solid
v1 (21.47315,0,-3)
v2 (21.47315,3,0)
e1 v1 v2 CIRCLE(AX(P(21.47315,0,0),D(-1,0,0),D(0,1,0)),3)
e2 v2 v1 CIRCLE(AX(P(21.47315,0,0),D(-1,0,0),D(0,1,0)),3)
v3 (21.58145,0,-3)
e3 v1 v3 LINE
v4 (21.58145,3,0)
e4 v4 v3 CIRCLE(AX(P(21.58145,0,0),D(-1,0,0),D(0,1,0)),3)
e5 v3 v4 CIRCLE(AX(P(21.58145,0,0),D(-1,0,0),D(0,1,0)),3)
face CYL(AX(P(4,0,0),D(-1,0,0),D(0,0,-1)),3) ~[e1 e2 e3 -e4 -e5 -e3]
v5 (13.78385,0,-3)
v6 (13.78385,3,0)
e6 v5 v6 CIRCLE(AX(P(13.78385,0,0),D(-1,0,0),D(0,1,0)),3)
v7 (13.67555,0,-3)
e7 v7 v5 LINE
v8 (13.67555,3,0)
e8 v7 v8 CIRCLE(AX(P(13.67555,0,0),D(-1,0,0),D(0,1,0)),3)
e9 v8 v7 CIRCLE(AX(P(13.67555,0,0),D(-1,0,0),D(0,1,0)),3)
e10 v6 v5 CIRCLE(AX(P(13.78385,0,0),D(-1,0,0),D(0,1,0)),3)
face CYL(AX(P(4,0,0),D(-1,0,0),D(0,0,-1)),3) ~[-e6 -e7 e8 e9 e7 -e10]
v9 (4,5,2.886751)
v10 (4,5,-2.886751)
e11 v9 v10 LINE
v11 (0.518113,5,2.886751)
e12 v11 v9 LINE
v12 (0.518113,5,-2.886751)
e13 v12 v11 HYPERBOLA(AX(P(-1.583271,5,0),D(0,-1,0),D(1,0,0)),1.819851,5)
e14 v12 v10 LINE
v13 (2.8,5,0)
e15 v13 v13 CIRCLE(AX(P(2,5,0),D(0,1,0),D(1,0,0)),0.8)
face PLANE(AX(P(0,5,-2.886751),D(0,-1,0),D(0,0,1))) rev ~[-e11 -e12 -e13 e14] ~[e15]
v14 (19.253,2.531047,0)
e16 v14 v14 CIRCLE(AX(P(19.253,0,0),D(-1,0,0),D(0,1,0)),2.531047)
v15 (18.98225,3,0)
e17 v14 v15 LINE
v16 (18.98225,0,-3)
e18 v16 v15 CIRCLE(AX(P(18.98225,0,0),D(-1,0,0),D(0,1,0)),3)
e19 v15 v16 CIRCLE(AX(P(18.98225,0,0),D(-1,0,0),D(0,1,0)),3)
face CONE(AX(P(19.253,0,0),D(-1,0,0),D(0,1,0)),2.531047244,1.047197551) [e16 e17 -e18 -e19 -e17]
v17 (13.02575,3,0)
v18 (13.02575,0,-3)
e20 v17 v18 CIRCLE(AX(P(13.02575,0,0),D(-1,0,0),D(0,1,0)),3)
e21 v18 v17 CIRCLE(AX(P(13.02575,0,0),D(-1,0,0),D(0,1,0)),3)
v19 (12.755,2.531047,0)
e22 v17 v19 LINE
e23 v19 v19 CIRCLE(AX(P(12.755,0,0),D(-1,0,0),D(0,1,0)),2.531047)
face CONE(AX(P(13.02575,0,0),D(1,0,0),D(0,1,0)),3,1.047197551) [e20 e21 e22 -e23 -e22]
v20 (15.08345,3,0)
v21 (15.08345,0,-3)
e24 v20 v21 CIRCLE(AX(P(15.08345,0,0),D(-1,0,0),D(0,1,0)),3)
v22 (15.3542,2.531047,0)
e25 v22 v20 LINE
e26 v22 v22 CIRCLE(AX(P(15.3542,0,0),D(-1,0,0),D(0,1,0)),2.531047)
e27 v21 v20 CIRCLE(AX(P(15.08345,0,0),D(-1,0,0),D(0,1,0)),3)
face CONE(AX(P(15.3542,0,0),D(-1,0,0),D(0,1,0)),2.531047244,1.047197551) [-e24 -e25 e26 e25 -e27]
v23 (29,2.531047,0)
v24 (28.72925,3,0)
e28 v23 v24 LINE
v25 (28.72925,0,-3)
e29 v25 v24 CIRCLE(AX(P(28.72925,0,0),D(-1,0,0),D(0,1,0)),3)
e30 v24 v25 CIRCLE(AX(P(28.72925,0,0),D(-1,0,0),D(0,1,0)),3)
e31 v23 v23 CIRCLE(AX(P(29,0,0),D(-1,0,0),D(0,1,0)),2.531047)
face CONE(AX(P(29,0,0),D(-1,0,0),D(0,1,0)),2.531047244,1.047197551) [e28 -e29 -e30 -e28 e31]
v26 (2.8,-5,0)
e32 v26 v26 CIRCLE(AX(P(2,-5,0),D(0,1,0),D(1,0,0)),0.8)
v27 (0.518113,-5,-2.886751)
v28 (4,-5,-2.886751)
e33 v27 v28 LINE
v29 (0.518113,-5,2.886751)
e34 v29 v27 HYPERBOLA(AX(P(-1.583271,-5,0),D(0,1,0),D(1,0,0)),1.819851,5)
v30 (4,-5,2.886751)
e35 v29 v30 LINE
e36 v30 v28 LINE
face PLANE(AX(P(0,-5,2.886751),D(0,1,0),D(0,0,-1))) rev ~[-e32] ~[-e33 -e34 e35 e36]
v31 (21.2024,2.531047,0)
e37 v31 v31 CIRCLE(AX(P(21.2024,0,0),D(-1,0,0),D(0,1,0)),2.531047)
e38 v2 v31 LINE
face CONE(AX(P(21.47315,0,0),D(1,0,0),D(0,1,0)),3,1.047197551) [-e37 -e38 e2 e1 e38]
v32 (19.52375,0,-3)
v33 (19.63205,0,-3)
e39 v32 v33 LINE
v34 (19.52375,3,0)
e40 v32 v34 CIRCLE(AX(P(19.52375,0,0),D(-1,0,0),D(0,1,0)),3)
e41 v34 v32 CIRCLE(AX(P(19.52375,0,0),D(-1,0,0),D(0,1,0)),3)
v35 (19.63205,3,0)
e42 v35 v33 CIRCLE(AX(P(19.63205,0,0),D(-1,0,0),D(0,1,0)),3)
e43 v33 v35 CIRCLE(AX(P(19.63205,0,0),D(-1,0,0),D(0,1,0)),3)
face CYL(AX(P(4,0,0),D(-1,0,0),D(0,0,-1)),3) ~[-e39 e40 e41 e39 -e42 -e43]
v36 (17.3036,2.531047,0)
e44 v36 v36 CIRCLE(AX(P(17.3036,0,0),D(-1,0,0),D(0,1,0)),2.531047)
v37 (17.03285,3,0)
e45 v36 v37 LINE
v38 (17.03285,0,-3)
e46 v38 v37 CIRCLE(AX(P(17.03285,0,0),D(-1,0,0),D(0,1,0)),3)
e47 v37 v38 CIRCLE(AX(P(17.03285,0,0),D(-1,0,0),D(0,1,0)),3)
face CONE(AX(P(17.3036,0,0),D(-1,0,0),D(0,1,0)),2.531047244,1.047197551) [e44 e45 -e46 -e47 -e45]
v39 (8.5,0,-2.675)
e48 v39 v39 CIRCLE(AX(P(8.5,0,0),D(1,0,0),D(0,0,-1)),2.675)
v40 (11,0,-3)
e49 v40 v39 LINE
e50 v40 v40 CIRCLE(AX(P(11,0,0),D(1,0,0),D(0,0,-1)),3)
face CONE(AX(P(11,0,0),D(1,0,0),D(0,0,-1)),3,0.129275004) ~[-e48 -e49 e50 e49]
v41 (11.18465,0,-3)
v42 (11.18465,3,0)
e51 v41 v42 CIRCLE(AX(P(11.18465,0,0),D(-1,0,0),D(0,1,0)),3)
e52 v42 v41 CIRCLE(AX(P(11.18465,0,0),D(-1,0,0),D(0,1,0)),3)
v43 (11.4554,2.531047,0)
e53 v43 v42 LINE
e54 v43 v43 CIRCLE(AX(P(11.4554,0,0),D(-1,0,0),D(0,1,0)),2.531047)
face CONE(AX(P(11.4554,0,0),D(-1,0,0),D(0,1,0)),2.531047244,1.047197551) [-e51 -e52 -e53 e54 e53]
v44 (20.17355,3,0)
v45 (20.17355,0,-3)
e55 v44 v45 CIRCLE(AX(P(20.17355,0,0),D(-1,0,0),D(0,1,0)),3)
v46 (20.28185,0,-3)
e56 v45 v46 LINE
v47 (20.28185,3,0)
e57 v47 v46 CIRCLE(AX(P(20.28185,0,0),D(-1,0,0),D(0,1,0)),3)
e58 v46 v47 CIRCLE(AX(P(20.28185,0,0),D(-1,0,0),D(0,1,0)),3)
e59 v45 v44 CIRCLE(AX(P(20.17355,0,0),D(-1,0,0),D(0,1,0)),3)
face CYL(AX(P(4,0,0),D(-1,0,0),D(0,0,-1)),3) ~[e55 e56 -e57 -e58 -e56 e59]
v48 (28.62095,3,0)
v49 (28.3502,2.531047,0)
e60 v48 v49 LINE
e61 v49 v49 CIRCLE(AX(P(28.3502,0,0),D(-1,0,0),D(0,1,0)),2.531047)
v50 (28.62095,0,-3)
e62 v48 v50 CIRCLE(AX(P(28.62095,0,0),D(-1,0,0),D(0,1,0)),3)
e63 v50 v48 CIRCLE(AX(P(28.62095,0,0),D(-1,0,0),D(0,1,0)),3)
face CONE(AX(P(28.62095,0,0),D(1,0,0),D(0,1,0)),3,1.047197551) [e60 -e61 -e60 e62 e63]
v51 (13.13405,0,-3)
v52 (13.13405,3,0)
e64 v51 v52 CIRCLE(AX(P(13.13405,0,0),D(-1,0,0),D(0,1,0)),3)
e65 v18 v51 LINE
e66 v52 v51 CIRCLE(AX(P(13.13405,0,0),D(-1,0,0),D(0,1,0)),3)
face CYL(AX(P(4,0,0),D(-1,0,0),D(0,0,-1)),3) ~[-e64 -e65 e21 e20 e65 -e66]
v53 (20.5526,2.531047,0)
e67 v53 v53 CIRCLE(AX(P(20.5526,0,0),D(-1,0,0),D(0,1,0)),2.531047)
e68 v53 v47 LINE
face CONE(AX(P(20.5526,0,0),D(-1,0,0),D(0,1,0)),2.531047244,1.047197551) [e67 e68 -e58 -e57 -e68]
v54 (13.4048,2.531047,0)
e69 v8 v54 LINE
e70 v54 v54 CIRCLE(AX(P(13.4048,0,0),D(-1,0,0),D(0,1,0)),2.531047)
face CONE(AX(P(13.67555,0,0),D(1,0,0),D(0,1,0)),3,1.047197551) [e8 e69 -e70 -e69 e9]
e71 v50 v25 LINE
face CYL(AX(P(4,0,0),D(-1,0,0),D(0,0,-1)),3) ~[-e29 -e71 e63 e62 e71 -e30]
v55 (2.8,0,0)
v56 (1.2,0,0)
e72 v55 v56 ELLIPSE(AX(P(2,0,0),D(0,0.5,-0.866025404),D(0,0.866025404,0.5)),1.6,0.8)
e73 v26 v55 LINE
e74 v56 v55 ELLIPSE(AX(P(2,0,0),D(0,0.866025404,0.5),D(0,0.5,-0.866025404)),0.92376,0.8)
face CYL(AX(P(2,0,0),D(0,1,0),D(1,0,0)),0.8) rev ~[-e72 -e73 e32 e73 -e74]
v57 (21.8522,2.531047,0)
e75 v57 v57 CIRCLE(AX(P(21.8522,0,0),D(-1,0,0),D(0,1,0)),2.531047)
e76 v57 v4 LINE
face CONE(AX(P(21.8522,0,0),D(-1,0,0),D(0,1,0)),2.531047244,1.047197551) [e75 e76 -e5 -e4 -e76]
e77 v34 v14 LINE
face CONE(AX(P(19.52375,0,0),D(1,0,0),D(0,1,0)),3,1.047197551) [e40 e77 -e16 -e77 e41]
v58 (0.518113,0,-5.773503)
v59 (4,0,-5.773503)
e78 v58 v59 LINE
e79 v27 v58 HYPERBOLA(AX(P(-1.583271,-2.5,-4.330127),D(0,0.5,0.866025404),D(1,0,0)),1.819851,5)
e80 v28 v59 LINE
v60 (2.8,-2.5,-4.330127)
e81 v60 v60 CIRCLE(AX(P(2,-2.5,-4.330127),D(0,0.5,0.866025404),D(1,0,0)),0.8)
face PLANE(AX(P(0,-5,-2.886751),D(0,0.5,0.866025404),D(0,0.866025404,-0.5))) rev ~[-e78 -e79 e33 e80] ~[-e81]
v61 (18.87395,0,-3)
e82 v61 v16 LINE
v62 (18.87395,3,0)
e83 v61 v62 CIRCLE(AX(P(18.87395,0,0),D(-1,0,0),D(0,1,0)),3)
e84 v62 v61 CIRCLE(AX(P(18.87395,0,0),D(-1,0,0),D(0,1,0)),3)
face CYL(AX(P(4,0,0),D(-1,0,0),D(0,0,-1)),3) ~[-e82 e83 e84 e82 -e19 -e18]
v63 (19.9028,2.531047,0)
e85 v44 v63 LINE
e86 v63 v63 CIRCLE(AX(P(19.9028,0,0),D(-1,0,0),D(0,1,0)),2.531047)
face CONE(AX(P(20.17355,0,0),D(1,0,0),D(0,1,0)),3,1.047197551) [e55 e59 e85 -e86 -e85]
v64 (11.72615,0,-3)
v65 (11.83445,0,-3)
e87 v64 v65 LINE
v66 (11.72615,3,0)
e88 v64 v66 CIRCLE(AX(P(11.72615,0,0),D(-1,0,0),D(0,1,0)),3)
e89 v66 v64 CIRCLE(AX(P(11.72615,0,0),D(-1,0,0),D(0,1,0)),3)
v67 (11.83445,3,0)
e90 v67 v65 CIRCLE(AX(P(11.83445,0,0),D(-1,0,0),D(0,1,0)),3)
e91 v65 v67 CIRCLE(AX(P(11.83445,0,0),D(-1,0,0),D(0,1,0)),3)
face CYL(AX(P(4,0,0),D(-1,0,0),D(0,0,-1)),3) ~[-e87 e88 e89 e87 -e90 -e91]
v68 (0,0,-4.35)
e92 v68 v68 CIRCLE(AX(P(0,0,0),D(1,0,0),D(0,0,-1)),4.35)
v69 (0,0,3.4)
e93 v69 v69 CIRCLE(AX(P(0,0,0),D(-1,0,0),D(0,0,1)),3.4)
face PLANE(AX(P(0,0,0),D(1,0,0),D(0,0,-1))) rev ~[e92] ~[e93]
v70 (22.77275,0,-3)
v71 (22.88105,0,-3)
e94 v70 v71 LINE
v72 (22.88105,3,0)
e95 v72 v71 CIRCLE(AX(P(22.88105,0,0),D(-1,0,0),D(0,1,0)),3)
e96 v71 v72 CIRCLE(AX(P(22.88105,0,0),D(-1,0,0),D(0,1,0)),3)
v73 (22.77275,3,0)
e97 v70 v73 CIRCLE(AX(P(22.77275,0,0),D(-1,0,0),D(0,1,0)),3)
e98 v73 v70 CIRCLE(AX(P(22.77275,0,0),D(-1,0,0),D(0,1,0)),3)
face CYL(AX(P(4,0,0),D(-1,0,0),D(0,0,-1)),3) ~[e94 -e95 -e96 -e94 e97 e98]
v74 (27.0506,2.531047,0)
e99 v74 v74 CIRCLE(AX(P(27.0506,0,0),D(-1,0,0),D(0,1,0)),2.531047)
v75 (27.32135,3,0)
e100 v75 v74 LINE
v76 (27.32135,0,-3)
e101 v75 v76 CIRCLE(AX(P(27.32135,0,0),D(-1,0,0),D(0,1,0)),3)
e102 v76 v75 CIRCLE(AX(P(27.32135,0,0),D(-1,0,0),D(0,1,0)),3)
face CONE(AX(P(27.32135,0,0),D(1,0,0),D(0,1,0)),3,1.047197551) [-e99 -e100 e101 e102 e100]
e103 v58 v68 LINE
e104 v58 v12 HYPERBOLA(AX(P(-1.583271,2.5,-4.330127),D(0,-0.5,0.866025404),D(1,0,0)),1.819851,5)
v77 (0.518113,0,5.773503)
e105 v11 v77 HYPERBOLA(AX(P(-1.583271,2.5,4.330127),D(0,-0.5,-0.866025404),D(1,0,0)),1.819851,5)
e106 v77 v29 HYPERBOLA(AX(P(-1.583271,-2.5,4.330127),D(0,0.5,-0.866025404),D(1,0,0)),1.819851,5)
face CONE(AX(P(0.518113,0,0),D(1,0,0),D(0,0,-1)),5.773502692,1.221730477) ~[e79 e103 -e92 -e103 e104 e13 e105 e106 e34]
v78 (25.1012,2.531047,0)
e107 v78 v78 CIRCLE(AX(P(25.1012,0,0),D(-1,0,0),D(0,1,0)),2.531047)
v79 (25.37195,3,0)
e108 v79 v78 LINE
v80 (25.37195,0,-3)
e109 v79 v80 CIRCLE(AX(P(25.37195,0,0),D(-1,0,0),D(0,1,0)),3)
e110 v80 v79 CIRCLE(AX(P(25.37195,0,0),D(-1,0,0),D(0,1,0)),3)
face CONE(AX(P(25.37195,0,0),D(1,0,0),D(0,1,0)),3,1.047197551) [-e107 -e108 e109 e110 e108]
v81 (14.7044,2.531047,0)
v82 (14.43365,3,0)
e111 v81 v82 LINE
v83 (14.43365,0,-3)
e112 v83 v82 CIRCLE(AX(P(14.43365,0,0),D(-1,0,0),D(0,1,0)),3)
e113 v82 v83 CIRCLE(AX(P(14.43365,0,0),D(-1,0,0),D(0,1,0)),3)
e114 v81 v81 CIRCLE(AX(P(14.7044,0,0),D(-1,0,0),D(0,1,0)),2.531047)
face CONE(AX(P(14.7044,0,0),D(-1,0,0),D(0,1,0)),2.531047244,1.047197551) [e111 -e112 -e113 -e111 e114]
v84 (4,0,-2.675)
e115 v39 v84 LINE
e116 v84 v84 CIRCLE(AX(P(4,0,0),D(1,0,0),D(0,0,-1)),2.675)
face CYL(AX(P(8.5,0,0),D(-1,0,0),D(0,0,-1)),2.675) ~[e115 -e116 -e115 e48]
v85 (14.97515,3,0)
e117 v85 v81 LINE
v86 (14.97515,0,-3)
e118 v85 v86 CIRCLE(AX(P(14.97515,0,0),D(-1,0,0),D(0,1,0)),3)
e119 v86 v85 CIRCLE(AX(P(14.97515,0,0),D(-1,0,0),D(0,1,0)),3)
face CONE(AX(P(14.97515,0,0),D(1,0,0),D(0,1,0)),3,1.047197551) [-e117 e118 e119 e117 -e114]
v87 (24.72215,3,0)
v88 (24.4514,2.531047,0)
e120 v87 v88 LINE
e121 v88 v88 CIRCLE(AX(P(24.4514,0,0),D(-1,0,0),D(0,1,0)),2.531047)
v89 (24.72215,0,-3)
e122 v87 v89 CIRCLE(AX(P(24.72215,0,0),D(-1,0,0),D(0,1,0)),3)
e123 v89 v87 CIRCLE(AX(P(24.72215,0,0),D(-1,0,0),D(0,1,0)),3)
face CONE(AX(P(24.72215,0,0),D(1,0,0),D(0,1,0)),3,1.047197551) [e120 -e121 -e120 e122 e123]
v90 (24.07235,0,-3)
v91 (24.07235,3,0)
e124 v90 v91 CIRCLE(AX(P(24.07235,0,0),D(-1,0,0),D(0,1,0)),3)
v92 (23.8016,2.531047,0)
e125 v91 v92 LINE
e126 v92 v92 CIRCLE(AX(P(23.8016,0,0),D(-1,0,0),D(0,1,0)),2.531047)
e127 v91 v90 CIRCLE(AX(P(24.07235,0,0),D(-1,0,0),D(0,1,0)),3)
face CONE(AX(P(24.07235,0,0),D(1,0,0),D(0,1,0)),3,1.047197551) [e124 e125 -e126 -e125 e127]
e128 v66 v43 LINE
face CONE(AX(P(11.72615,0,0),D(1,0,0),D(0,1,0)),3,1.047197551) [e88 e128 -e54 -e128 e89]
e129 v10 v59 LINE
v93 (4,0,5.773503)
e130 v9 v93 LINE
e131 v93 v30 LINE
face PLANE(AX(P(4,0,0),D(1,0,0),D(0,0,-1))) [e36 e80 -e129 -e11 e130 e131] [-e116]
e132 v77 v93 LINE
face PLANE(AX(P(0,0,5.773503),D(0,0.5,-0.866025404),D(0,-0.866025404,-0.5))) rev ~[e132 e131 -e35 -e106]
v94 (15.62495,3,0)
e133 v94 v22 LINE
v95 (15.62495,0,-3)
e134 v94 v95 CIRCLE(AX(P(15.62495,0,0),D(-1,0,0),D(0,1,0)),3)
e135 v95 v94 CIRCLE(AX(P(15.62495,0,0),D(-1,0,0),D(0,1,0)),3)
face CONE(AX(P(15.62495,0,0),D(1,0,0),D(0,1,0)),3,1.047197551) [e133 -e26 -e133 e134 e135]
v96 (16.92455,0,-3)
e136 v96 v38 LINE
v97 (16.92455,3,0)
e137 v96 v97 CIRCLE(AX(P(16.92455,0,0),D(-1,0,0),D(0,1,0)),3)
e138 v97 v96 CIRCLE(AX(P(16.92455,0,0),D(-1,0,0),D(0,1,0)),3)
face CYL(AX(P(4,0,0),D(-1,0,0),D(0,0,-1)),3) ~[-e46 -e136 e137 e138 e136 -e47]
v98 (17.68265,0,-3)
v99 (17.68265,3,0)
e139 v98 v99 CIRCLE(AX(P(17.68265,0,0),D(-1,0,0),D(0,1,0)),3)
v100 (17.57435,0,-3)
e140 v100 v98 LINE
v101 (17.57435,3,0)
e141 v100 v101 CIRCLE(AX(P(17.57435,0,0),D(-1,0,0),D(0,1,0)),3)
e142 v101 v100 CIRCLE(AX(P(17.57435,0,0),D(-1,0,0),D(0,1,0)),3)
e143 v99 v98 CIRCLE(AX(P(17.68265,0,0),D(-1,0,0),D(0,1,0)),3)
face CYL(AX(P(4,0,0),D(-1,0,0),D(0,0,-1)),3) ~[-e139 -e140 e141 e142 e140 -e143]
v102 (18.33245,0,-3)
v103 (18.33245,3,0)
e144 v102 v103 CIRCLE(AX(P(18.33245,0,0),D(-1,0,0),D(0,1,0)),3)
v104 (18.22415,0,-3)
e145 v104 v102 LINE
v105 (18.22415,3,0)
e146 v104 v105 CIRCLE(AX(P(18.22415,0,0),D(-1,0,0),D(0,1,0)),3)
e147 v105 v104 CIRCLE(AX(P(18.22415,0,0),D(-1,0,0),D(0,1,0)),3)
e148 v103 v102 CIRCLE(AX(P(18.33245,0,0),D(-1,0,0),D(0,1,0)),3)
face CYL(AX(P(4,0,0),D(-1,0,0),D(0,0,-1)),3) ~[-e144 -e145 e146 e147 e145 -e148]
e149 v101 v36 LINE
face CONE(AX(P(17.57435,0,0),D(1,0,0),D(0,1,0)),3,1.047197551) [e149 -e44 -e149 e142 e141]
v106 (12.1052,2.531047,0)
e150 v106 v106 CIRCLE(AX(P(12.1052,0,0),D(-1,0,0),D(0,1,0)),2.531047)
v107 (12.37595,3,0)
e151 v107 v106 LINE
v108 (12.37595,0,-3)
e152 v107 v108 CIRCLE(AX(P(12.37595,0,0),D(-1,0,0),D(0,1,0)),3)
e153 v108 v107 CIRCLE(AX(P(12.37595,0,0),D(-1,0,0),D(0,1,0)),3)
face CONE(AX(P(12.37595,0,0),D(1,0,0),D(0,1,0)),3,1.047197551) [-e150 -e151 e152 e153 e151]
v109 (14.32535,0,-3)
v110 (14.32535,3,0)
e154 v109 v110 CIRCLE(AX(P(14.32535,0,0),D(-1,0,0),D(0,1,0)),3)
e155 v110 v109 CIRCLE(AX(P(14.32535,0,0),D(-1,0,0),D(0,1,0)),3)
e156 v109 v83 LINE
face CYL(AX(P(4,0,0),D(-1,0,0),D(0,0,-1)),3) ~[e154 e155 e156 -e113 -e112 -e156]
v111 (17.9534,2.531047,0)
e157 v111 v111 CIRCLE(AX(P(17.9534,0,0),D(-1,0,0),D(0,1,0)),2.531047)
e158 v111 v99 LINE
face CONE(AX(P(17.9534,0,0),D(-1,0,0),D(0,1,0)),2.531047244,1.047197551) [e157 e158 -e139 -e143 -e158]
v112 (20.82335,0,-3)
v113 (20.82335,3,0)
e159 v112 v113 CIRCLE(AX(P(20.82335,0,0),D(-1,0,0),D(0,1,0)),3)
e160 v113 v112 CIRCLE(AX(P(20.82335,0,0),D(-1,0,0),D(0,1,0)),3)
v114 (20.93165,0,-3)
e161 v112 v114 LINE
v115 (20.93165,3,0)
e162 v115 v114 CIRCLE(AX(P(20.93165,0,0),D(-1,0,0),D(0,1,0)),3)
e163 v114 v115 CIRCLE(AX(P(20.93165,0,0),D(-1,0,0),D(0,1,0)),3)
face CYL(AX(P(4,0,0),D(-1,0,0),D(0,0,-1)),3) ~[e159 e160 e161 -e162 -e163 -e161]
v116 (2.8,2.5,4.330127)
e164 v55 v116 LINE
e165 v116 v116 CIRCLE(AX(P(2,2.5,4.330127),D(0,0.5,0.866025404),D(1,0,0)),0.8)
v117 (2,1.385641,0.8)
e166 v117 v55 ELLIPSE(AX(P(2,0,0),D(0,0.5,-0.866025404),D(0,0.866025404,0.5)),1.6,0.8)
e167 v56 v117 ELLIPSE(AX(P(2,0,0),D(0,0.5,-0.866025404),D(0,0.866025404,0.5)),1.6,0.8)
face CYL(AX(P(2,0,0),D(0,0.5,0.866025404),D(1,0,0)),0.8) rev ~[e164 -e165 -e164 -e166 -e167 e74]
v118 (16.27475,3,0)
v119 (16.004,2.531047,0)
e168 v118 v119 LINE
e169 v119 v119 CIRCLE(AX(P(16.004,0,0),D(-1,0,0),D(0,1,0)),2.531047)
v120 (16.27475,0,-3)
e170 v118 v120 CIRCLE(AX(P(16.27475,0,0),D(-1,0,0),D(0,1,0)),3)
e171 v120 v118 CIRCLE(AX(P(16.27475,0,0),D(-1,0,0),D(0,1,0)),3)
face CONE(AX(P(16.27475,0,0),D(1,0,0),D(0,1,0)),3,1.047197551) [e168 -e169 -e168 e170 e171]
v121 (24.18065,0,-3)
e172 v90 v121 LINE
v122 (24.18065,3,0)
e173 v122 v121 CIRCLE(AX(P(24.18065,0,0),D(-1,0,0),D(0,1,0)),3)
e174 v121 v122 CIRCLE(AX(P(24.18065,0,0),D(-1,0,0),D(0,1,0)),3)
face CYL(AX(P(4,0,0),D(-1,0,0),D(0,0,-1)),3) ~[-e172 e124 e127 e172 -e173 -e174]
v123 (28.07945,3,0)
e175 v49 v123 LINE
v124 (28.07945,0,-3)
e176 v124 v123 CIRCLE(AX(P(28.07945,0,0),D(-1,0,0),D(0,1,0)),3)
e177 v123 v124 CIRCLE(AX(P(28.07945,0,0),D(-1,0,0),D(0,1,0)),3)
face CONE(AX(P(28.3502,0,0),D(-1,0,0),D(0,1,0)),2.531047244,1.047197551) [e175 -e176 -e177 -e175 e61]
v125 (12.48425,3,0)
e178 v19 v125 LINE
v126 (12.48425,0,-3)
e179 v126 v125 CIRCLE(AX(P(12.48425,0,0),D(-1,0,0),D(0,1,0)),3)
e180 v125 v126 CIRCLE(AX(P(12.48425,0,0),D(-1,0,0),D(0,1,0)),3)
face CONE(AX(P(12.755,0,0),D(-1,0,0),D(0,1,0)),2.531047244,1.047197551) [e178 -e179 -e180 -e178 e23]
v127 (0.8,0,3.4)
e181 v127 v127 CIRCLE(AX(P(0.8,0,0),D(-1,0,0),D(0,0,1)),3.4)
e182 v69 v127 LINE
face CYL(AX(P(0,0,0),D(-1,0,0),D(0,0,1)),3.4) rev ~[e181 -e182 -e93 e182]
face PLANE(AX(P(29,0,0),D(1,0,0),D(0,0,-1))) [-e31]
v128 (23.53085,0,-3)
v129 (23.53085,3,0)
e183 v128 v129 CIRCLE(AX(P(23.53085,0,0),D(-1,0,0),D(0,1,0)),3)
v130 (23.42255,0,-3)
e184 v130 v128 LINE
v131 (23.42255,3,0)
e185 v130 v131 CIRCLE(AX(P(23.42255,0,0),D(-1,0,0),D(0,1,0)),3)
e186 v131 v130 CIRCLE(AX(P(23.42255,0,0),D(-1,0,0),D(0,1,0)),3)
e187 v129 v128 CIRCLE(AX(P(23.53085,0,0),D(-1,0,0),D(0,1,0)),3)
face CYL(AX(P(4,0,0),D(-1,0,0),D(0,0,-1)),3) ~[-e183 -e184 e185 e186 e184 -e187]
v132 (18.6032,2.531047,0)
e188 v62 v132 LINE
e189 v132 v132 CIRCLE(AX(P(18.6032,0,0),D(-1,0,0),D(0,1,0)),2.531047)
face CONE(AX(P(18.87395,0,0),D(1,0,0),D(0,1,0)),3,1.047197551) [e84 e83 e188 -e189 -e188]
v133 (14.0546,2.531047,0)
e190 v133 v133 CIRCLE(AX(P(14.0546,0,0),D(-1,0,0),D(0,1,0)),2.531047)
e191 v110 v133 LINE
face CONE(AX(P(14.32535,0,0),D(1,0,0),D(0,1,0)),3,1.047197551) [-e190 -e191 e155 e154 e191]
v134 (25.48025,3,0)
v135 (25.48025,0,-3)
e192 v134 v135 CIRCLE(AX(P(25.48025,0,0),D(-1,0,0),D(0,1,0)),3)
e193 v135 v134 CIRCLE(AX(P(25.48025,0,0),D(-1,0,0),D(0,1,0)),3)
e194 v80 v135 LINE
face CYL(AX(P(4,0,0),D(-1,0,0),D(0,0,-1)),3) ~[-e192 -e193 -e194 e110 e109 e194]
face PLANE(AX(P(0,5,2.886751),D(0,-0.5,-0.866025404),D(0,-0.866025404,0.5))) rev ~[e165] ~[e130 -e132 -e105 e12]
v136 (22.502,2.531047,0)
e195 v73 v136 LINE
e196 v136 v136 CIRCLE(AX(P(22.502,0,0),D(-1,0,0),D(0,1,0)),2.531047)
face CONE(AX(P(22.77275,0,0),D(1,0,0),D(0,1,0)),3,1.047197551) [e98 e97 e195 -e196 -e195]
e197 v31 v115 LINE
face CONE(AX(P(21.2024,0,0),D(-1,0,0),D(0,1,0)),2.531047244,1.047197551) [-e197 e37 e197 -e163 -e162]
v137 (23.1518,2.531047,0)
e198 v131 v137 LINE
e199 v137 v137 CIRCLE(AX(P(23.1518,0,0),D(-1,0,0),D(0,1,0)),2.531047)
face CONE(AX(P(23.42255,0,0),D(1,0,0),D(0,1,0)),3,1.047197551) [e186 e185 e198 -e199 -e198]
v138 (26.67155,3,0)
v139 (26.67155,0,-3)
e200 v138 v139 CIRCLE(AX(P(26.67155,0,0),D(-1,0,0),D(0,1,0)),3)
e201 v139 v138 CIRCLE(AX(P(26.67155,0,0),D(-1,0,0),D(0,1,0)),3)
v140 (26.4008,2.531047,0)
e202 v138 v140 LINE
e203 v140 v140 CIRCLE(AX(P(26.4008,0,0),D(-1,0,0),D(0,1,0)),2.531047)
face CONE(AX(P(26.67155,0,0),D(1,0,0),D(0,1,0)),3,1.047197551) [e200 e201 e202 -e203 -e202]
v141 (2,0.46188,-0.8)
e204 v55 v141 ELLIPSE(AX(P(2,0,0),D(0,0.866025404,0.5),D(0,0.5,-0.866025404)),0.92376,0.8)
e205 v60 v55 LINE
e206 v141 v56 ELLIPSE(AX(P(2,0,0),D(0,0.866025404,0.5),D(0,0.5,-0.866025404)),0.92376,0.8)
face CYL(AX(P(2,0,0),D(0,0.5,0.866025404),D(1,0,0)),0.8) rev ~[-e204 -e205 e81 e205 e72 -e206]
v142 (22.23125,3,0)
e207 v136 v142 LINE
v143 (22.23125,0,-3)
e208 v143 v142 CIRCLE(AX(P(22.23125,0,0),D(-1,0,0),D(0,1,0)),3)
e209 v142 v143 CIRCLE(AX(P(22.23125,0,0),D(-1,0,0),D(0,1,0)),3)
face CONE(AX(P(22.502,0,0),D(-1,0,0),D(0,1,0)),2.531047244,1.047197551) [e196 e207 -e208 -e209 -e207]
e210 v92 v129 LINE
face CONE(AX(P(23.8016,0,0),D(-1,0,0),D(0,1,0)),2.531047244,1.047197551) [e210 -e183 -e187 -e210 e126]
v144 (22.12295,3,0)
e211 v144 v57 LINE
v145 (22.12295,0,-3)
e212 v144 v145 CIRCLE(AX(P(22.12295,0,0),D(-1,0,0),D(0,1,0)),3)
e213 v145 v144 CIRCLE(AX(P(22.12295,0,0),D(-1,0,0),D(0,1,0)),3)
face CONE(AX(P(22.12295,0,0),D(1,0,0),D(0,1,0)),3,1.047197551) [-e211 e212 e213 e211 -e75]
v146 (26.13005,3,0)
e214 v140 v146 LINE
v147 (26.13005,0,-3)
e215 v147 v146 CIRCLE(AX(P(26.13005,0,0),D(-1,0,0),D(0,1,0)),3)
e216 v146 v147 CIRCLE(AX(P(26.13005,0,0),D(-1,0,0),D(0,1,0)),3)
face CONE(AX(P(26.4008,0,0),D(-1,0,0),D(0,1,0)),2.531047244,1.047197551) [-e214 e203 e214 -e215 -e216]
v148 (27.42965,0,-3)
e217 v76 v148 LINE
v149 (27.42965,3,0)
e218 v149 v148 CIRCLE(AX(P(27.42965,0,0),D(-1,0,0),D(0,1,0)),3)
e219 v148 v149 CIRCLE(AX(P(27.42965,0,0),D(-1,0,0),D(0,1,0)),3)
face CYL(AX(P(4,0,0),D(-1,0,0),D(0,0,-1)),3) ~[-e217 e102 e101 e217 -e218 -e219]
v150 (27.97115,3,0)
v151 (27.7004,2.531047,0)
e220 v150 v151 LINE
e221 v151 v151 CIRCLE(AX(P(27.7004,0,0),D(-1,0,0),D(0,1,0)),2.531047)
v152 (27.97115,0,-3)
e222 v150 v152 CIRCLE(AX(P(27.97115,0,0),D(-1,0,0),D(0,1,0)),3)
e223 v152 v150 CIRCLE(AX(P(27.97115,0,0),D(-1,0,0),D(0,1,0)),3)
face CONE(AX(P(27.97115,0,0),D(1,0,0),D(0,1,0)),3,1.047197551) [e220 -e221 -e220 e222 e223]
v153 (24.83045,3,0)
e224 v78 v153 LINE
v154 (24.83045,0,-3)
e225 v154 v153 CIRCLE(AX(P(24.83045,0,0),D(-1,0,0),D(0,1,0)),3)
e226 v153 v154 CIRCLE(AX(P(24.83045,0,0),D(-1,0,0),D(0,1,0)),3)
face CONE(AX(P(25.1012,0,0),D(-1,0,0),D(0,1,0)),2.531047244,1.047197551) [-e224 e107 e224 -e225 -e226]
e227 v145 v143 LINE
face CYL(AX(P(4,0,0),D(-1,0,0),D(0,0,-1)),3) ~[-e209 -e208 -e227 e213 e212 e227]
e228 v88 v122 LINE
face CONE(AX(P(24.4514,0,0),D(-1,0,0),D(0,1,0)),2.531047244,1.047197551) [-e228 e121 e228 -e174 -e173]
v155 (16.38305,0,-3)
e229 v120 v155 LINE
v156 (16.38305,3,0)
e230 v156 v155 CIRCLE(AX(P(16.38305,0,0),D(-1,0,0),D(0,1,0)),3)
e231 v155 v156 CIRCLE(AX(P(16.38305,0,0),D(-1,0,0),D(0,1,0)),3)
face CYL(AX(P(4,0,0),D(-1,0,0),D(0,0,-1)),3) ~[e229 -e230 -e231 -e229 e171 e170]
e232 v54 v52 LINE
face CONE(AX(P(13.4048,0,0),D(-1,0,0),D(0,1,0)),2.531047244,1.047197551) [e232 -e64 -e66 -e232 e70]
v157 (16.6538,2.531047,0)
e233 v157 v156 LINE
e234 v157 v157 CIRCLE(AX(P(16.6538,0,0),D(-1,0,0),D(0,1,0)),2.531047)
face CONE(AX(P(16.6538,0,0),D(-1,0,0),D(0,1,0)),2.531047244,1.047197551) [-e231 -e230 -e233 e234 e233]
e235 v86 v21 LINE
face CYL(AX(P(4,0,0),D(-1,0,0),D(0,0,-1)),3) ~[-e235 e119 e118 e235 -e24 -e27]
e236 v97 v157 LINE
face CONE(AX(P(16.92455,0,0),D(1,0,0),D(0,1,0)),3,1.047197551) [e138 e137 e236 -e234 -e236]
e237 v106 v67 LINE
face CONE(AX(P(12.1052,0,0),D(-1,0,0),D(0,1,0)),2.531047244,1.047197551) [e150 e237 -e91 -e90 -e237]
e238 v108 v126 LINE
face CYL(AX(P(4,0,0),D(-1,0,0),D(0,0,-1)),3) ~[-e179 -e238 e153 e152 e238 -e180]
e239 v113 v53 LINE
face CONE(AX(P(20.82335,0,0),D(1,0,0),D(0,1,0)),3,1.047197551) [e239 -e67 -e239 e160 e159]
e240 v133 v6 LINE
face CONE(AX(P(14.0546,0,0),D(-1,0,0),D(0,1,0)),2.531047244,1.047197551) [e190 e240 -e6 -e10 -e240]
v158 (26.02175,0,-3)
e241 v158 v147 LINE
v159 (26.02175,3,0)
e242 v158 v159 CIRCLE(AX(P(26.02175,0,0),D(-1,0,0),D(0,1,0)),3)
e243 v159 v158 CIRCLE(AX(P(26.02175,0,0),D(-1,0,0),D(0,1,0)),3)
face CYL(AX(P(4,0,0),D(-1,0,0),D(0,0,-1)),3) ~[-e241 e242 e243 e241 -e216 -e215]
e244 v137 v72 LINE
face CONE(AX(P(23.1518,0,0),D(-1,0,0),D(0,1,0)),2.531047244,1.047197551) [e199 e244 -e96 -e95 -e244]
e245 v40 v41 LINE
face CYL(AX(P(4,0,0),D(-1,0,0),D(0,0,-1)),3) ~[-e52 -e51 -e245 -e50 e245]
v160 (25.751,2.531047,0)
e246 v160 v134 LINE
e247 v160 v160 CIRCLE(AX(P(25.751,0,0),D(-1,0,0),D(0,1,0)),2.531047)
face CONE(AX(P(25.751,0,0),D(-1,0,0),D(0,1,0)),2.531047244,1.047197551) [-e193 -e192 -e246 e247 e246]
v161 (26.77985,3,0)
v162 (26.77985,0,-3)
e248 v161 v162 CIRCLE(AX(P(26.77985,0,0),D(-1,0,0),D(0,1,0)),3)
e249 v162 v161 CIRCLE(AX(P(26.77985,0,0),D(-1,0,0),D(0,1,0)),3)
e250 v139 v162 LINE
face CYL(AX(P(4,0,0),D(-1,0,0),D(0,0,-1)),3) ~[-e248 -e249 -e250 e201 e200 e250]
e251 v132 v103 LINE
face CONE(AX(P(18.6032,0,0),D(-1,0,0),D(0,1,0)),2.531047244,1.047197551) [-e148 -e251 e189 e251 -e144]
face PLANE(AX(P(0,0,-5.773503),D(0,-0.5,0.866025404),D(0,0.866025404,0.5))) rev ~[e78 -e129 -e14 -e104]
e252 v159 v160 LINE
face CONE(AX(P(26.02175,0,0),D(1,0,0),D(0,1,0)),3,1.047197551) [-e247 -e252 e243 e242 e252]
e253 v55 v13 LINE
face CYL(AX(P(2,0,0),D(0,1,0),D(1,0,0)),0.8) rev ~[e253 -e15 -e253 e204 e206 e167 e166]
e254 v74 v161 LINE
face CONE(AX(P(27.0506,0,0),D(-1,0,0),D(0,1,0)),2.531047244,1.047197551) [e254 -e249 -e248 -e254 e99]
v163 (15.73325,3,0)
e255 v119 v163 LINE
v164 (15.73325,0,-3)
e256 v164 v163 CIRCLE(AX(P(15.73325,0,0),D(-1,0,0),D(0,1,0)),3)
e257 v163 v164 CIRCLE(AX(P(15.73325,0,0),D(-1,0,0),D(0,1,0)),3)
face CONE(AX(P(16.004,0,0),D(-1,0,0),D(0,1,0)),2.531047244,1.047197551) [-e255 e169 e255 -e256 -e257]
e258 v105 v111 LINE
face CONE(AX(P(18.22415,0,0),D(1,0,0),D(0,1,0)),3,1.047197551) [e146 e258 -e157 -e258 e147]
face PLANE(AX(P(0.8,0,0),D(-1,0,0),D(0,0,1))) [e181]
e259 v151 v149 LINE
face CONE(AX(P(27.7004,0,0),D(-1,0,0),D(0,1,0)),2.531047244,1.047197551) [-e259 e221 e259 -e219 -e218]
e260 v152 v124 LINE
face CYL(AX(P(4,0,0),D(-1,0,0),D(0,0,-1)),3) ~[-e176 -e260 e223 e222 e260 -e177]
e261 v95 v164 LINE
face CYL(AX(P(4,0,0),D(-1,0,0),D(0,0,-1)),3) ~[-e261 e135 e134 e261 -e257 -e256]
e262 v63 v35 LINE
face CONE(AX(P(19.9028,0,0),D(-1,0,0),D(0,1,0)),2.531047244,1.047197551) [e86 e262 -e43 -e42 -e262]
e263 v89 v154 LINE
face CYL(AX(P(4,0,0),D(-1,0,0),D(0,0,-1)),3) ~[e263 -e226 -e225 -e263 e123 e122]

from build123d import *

# Parameters (mm, degrees)
BASEHEAD_DEPTH     = 4
SKETCH2_R          = 3
BASEBODY_DEPTH     = 25
SKETCH4_R          = 3.4
CUT_EXTRUDE1_DEPTH = 0.8
SKETCH6_R          = 0.8
HOLE_DEPTH         = 6
CIRPATTERN1_COUNT  = 2
CIRPATTERN1_ANGLE  = 60
LPATTERN10_COUNT   = 28
LPATTERN10_PITCH   = 0.6498


with BuildPart() as part:
    # Sketch1 → BaseHead (new body)
    with BuildSketch(Plane(origin=(0, 0, 0), x_dir=(0, 0, -1), z_dir=(1, 0, 0))):
        Polygon((5.773502692, 0), (2.886751346, 5), (-2.886751346, 5), (-5.773502692, 0), (-2.886751346, -5), (2.886751346, -5), align=None)
    extrude(amount=BASEHEAD_DEPTH)

    # Sketch2 → BaseBody (add)
    with BuildSketch(Plane(origin=(4, 0, 0), x_dir=(0, 0, -1), z_dir=(1, 0, 0))):
        Circle(SKETCH2_R)
    extrude(amount=BASEBODY_DEPTH)

    # Sketch3 → HeadChamfer (revolve, cut)
    with BuildSketch(Plane(origin=(3.161211974, 0, 2.612290718), x_dir=(0, 0, -1), z_dir=(0, 1, 0))):
        Polygon((8.38579341, 3.161211974), (8.38579341, 2.643099366), (6.962290718, 3.161211974), align=None)
    revolve(axis=Axis((-2.071354488, 0, 0), (1, 0, 0)), mode=Mode.SUBTRACT)

    # Sketch4 → Cut-Extrude1 (cut)
    with BuildSketch(Plane.ZY):
        Circle(SKETCH4_R)
    extrude(amount=-CUT_EXTRUDE1_DEPTH, mode=Mode.SUBTRACT)

    # Sketch5 → Cut-Revolve1 (revolve, cut)
    with BuildSketch(Plane(origin=(-2.92963122, 0, 7.92963122), x_dir=(0, 0, -1), z_dir=(0, 1, 0))):
        Polygon((10.92963122, -13.92963122), (10.60463122, -11.42963122), (10.60463122, -6.92963122), (13.27963122, -6.92963122), (13.27963122, -13.92963122), align=None)
    revolve(axis=Axis((-2.697175707, 0, 0), (1, 0, 0)), mode=Mode.SUBTRACT)

    # Sketch6 → Hole (cut, symmetric)
    with BuildSketch(Plane(origin=(0, 0, 0), x_dir=(1, 0, 0), z_dir=(0, 1, 0))):
        with Locations((2, 0)):
            Circle(SKETCH6_R)
    hole = extrude(amount=HOLE_DEPTH, both=True, mode=Mode.SUBTRACT)

    # CirPattern1: Hole ×2 about axis
    cirpattern1_axis = Axis((-2.697175707, 0, 0), (1, 0, 0))
    for i in range(1, CIRPATTERN1_COUNT):
        add(hole.rotate(cirpattern1_axis, i * CIRPATTERN1_ANGLE / (CIRPATTERN1_COUNT - 1)), mode=Mode.SUBTRACT)

    # Sketch7 → Cut-Revolve10 (revolve, cut)
    with BuildSketch(Plane.XY):
        Polygon((28.72925, 3.2), (29.27075, 3.2), (29.27075, 3), (29, 2.531047244), (28.72925, 3), align=None)
    cut_revolve10 = revolve(axis=Axis((28.86346516, 0, 0), (-1, 0, 0)), mode=Mode.SUBTRACT)

    # LPattern10: Cut-Revolve10 ×28
    with Locations(*[(-i * LPATTERN10_PITCH, 0, 0) for i in range(1, LPATTERN10_COUNT)]):
        add(cut_revolve10, mode=Mode.SUBTRACT)


solid = part.part
